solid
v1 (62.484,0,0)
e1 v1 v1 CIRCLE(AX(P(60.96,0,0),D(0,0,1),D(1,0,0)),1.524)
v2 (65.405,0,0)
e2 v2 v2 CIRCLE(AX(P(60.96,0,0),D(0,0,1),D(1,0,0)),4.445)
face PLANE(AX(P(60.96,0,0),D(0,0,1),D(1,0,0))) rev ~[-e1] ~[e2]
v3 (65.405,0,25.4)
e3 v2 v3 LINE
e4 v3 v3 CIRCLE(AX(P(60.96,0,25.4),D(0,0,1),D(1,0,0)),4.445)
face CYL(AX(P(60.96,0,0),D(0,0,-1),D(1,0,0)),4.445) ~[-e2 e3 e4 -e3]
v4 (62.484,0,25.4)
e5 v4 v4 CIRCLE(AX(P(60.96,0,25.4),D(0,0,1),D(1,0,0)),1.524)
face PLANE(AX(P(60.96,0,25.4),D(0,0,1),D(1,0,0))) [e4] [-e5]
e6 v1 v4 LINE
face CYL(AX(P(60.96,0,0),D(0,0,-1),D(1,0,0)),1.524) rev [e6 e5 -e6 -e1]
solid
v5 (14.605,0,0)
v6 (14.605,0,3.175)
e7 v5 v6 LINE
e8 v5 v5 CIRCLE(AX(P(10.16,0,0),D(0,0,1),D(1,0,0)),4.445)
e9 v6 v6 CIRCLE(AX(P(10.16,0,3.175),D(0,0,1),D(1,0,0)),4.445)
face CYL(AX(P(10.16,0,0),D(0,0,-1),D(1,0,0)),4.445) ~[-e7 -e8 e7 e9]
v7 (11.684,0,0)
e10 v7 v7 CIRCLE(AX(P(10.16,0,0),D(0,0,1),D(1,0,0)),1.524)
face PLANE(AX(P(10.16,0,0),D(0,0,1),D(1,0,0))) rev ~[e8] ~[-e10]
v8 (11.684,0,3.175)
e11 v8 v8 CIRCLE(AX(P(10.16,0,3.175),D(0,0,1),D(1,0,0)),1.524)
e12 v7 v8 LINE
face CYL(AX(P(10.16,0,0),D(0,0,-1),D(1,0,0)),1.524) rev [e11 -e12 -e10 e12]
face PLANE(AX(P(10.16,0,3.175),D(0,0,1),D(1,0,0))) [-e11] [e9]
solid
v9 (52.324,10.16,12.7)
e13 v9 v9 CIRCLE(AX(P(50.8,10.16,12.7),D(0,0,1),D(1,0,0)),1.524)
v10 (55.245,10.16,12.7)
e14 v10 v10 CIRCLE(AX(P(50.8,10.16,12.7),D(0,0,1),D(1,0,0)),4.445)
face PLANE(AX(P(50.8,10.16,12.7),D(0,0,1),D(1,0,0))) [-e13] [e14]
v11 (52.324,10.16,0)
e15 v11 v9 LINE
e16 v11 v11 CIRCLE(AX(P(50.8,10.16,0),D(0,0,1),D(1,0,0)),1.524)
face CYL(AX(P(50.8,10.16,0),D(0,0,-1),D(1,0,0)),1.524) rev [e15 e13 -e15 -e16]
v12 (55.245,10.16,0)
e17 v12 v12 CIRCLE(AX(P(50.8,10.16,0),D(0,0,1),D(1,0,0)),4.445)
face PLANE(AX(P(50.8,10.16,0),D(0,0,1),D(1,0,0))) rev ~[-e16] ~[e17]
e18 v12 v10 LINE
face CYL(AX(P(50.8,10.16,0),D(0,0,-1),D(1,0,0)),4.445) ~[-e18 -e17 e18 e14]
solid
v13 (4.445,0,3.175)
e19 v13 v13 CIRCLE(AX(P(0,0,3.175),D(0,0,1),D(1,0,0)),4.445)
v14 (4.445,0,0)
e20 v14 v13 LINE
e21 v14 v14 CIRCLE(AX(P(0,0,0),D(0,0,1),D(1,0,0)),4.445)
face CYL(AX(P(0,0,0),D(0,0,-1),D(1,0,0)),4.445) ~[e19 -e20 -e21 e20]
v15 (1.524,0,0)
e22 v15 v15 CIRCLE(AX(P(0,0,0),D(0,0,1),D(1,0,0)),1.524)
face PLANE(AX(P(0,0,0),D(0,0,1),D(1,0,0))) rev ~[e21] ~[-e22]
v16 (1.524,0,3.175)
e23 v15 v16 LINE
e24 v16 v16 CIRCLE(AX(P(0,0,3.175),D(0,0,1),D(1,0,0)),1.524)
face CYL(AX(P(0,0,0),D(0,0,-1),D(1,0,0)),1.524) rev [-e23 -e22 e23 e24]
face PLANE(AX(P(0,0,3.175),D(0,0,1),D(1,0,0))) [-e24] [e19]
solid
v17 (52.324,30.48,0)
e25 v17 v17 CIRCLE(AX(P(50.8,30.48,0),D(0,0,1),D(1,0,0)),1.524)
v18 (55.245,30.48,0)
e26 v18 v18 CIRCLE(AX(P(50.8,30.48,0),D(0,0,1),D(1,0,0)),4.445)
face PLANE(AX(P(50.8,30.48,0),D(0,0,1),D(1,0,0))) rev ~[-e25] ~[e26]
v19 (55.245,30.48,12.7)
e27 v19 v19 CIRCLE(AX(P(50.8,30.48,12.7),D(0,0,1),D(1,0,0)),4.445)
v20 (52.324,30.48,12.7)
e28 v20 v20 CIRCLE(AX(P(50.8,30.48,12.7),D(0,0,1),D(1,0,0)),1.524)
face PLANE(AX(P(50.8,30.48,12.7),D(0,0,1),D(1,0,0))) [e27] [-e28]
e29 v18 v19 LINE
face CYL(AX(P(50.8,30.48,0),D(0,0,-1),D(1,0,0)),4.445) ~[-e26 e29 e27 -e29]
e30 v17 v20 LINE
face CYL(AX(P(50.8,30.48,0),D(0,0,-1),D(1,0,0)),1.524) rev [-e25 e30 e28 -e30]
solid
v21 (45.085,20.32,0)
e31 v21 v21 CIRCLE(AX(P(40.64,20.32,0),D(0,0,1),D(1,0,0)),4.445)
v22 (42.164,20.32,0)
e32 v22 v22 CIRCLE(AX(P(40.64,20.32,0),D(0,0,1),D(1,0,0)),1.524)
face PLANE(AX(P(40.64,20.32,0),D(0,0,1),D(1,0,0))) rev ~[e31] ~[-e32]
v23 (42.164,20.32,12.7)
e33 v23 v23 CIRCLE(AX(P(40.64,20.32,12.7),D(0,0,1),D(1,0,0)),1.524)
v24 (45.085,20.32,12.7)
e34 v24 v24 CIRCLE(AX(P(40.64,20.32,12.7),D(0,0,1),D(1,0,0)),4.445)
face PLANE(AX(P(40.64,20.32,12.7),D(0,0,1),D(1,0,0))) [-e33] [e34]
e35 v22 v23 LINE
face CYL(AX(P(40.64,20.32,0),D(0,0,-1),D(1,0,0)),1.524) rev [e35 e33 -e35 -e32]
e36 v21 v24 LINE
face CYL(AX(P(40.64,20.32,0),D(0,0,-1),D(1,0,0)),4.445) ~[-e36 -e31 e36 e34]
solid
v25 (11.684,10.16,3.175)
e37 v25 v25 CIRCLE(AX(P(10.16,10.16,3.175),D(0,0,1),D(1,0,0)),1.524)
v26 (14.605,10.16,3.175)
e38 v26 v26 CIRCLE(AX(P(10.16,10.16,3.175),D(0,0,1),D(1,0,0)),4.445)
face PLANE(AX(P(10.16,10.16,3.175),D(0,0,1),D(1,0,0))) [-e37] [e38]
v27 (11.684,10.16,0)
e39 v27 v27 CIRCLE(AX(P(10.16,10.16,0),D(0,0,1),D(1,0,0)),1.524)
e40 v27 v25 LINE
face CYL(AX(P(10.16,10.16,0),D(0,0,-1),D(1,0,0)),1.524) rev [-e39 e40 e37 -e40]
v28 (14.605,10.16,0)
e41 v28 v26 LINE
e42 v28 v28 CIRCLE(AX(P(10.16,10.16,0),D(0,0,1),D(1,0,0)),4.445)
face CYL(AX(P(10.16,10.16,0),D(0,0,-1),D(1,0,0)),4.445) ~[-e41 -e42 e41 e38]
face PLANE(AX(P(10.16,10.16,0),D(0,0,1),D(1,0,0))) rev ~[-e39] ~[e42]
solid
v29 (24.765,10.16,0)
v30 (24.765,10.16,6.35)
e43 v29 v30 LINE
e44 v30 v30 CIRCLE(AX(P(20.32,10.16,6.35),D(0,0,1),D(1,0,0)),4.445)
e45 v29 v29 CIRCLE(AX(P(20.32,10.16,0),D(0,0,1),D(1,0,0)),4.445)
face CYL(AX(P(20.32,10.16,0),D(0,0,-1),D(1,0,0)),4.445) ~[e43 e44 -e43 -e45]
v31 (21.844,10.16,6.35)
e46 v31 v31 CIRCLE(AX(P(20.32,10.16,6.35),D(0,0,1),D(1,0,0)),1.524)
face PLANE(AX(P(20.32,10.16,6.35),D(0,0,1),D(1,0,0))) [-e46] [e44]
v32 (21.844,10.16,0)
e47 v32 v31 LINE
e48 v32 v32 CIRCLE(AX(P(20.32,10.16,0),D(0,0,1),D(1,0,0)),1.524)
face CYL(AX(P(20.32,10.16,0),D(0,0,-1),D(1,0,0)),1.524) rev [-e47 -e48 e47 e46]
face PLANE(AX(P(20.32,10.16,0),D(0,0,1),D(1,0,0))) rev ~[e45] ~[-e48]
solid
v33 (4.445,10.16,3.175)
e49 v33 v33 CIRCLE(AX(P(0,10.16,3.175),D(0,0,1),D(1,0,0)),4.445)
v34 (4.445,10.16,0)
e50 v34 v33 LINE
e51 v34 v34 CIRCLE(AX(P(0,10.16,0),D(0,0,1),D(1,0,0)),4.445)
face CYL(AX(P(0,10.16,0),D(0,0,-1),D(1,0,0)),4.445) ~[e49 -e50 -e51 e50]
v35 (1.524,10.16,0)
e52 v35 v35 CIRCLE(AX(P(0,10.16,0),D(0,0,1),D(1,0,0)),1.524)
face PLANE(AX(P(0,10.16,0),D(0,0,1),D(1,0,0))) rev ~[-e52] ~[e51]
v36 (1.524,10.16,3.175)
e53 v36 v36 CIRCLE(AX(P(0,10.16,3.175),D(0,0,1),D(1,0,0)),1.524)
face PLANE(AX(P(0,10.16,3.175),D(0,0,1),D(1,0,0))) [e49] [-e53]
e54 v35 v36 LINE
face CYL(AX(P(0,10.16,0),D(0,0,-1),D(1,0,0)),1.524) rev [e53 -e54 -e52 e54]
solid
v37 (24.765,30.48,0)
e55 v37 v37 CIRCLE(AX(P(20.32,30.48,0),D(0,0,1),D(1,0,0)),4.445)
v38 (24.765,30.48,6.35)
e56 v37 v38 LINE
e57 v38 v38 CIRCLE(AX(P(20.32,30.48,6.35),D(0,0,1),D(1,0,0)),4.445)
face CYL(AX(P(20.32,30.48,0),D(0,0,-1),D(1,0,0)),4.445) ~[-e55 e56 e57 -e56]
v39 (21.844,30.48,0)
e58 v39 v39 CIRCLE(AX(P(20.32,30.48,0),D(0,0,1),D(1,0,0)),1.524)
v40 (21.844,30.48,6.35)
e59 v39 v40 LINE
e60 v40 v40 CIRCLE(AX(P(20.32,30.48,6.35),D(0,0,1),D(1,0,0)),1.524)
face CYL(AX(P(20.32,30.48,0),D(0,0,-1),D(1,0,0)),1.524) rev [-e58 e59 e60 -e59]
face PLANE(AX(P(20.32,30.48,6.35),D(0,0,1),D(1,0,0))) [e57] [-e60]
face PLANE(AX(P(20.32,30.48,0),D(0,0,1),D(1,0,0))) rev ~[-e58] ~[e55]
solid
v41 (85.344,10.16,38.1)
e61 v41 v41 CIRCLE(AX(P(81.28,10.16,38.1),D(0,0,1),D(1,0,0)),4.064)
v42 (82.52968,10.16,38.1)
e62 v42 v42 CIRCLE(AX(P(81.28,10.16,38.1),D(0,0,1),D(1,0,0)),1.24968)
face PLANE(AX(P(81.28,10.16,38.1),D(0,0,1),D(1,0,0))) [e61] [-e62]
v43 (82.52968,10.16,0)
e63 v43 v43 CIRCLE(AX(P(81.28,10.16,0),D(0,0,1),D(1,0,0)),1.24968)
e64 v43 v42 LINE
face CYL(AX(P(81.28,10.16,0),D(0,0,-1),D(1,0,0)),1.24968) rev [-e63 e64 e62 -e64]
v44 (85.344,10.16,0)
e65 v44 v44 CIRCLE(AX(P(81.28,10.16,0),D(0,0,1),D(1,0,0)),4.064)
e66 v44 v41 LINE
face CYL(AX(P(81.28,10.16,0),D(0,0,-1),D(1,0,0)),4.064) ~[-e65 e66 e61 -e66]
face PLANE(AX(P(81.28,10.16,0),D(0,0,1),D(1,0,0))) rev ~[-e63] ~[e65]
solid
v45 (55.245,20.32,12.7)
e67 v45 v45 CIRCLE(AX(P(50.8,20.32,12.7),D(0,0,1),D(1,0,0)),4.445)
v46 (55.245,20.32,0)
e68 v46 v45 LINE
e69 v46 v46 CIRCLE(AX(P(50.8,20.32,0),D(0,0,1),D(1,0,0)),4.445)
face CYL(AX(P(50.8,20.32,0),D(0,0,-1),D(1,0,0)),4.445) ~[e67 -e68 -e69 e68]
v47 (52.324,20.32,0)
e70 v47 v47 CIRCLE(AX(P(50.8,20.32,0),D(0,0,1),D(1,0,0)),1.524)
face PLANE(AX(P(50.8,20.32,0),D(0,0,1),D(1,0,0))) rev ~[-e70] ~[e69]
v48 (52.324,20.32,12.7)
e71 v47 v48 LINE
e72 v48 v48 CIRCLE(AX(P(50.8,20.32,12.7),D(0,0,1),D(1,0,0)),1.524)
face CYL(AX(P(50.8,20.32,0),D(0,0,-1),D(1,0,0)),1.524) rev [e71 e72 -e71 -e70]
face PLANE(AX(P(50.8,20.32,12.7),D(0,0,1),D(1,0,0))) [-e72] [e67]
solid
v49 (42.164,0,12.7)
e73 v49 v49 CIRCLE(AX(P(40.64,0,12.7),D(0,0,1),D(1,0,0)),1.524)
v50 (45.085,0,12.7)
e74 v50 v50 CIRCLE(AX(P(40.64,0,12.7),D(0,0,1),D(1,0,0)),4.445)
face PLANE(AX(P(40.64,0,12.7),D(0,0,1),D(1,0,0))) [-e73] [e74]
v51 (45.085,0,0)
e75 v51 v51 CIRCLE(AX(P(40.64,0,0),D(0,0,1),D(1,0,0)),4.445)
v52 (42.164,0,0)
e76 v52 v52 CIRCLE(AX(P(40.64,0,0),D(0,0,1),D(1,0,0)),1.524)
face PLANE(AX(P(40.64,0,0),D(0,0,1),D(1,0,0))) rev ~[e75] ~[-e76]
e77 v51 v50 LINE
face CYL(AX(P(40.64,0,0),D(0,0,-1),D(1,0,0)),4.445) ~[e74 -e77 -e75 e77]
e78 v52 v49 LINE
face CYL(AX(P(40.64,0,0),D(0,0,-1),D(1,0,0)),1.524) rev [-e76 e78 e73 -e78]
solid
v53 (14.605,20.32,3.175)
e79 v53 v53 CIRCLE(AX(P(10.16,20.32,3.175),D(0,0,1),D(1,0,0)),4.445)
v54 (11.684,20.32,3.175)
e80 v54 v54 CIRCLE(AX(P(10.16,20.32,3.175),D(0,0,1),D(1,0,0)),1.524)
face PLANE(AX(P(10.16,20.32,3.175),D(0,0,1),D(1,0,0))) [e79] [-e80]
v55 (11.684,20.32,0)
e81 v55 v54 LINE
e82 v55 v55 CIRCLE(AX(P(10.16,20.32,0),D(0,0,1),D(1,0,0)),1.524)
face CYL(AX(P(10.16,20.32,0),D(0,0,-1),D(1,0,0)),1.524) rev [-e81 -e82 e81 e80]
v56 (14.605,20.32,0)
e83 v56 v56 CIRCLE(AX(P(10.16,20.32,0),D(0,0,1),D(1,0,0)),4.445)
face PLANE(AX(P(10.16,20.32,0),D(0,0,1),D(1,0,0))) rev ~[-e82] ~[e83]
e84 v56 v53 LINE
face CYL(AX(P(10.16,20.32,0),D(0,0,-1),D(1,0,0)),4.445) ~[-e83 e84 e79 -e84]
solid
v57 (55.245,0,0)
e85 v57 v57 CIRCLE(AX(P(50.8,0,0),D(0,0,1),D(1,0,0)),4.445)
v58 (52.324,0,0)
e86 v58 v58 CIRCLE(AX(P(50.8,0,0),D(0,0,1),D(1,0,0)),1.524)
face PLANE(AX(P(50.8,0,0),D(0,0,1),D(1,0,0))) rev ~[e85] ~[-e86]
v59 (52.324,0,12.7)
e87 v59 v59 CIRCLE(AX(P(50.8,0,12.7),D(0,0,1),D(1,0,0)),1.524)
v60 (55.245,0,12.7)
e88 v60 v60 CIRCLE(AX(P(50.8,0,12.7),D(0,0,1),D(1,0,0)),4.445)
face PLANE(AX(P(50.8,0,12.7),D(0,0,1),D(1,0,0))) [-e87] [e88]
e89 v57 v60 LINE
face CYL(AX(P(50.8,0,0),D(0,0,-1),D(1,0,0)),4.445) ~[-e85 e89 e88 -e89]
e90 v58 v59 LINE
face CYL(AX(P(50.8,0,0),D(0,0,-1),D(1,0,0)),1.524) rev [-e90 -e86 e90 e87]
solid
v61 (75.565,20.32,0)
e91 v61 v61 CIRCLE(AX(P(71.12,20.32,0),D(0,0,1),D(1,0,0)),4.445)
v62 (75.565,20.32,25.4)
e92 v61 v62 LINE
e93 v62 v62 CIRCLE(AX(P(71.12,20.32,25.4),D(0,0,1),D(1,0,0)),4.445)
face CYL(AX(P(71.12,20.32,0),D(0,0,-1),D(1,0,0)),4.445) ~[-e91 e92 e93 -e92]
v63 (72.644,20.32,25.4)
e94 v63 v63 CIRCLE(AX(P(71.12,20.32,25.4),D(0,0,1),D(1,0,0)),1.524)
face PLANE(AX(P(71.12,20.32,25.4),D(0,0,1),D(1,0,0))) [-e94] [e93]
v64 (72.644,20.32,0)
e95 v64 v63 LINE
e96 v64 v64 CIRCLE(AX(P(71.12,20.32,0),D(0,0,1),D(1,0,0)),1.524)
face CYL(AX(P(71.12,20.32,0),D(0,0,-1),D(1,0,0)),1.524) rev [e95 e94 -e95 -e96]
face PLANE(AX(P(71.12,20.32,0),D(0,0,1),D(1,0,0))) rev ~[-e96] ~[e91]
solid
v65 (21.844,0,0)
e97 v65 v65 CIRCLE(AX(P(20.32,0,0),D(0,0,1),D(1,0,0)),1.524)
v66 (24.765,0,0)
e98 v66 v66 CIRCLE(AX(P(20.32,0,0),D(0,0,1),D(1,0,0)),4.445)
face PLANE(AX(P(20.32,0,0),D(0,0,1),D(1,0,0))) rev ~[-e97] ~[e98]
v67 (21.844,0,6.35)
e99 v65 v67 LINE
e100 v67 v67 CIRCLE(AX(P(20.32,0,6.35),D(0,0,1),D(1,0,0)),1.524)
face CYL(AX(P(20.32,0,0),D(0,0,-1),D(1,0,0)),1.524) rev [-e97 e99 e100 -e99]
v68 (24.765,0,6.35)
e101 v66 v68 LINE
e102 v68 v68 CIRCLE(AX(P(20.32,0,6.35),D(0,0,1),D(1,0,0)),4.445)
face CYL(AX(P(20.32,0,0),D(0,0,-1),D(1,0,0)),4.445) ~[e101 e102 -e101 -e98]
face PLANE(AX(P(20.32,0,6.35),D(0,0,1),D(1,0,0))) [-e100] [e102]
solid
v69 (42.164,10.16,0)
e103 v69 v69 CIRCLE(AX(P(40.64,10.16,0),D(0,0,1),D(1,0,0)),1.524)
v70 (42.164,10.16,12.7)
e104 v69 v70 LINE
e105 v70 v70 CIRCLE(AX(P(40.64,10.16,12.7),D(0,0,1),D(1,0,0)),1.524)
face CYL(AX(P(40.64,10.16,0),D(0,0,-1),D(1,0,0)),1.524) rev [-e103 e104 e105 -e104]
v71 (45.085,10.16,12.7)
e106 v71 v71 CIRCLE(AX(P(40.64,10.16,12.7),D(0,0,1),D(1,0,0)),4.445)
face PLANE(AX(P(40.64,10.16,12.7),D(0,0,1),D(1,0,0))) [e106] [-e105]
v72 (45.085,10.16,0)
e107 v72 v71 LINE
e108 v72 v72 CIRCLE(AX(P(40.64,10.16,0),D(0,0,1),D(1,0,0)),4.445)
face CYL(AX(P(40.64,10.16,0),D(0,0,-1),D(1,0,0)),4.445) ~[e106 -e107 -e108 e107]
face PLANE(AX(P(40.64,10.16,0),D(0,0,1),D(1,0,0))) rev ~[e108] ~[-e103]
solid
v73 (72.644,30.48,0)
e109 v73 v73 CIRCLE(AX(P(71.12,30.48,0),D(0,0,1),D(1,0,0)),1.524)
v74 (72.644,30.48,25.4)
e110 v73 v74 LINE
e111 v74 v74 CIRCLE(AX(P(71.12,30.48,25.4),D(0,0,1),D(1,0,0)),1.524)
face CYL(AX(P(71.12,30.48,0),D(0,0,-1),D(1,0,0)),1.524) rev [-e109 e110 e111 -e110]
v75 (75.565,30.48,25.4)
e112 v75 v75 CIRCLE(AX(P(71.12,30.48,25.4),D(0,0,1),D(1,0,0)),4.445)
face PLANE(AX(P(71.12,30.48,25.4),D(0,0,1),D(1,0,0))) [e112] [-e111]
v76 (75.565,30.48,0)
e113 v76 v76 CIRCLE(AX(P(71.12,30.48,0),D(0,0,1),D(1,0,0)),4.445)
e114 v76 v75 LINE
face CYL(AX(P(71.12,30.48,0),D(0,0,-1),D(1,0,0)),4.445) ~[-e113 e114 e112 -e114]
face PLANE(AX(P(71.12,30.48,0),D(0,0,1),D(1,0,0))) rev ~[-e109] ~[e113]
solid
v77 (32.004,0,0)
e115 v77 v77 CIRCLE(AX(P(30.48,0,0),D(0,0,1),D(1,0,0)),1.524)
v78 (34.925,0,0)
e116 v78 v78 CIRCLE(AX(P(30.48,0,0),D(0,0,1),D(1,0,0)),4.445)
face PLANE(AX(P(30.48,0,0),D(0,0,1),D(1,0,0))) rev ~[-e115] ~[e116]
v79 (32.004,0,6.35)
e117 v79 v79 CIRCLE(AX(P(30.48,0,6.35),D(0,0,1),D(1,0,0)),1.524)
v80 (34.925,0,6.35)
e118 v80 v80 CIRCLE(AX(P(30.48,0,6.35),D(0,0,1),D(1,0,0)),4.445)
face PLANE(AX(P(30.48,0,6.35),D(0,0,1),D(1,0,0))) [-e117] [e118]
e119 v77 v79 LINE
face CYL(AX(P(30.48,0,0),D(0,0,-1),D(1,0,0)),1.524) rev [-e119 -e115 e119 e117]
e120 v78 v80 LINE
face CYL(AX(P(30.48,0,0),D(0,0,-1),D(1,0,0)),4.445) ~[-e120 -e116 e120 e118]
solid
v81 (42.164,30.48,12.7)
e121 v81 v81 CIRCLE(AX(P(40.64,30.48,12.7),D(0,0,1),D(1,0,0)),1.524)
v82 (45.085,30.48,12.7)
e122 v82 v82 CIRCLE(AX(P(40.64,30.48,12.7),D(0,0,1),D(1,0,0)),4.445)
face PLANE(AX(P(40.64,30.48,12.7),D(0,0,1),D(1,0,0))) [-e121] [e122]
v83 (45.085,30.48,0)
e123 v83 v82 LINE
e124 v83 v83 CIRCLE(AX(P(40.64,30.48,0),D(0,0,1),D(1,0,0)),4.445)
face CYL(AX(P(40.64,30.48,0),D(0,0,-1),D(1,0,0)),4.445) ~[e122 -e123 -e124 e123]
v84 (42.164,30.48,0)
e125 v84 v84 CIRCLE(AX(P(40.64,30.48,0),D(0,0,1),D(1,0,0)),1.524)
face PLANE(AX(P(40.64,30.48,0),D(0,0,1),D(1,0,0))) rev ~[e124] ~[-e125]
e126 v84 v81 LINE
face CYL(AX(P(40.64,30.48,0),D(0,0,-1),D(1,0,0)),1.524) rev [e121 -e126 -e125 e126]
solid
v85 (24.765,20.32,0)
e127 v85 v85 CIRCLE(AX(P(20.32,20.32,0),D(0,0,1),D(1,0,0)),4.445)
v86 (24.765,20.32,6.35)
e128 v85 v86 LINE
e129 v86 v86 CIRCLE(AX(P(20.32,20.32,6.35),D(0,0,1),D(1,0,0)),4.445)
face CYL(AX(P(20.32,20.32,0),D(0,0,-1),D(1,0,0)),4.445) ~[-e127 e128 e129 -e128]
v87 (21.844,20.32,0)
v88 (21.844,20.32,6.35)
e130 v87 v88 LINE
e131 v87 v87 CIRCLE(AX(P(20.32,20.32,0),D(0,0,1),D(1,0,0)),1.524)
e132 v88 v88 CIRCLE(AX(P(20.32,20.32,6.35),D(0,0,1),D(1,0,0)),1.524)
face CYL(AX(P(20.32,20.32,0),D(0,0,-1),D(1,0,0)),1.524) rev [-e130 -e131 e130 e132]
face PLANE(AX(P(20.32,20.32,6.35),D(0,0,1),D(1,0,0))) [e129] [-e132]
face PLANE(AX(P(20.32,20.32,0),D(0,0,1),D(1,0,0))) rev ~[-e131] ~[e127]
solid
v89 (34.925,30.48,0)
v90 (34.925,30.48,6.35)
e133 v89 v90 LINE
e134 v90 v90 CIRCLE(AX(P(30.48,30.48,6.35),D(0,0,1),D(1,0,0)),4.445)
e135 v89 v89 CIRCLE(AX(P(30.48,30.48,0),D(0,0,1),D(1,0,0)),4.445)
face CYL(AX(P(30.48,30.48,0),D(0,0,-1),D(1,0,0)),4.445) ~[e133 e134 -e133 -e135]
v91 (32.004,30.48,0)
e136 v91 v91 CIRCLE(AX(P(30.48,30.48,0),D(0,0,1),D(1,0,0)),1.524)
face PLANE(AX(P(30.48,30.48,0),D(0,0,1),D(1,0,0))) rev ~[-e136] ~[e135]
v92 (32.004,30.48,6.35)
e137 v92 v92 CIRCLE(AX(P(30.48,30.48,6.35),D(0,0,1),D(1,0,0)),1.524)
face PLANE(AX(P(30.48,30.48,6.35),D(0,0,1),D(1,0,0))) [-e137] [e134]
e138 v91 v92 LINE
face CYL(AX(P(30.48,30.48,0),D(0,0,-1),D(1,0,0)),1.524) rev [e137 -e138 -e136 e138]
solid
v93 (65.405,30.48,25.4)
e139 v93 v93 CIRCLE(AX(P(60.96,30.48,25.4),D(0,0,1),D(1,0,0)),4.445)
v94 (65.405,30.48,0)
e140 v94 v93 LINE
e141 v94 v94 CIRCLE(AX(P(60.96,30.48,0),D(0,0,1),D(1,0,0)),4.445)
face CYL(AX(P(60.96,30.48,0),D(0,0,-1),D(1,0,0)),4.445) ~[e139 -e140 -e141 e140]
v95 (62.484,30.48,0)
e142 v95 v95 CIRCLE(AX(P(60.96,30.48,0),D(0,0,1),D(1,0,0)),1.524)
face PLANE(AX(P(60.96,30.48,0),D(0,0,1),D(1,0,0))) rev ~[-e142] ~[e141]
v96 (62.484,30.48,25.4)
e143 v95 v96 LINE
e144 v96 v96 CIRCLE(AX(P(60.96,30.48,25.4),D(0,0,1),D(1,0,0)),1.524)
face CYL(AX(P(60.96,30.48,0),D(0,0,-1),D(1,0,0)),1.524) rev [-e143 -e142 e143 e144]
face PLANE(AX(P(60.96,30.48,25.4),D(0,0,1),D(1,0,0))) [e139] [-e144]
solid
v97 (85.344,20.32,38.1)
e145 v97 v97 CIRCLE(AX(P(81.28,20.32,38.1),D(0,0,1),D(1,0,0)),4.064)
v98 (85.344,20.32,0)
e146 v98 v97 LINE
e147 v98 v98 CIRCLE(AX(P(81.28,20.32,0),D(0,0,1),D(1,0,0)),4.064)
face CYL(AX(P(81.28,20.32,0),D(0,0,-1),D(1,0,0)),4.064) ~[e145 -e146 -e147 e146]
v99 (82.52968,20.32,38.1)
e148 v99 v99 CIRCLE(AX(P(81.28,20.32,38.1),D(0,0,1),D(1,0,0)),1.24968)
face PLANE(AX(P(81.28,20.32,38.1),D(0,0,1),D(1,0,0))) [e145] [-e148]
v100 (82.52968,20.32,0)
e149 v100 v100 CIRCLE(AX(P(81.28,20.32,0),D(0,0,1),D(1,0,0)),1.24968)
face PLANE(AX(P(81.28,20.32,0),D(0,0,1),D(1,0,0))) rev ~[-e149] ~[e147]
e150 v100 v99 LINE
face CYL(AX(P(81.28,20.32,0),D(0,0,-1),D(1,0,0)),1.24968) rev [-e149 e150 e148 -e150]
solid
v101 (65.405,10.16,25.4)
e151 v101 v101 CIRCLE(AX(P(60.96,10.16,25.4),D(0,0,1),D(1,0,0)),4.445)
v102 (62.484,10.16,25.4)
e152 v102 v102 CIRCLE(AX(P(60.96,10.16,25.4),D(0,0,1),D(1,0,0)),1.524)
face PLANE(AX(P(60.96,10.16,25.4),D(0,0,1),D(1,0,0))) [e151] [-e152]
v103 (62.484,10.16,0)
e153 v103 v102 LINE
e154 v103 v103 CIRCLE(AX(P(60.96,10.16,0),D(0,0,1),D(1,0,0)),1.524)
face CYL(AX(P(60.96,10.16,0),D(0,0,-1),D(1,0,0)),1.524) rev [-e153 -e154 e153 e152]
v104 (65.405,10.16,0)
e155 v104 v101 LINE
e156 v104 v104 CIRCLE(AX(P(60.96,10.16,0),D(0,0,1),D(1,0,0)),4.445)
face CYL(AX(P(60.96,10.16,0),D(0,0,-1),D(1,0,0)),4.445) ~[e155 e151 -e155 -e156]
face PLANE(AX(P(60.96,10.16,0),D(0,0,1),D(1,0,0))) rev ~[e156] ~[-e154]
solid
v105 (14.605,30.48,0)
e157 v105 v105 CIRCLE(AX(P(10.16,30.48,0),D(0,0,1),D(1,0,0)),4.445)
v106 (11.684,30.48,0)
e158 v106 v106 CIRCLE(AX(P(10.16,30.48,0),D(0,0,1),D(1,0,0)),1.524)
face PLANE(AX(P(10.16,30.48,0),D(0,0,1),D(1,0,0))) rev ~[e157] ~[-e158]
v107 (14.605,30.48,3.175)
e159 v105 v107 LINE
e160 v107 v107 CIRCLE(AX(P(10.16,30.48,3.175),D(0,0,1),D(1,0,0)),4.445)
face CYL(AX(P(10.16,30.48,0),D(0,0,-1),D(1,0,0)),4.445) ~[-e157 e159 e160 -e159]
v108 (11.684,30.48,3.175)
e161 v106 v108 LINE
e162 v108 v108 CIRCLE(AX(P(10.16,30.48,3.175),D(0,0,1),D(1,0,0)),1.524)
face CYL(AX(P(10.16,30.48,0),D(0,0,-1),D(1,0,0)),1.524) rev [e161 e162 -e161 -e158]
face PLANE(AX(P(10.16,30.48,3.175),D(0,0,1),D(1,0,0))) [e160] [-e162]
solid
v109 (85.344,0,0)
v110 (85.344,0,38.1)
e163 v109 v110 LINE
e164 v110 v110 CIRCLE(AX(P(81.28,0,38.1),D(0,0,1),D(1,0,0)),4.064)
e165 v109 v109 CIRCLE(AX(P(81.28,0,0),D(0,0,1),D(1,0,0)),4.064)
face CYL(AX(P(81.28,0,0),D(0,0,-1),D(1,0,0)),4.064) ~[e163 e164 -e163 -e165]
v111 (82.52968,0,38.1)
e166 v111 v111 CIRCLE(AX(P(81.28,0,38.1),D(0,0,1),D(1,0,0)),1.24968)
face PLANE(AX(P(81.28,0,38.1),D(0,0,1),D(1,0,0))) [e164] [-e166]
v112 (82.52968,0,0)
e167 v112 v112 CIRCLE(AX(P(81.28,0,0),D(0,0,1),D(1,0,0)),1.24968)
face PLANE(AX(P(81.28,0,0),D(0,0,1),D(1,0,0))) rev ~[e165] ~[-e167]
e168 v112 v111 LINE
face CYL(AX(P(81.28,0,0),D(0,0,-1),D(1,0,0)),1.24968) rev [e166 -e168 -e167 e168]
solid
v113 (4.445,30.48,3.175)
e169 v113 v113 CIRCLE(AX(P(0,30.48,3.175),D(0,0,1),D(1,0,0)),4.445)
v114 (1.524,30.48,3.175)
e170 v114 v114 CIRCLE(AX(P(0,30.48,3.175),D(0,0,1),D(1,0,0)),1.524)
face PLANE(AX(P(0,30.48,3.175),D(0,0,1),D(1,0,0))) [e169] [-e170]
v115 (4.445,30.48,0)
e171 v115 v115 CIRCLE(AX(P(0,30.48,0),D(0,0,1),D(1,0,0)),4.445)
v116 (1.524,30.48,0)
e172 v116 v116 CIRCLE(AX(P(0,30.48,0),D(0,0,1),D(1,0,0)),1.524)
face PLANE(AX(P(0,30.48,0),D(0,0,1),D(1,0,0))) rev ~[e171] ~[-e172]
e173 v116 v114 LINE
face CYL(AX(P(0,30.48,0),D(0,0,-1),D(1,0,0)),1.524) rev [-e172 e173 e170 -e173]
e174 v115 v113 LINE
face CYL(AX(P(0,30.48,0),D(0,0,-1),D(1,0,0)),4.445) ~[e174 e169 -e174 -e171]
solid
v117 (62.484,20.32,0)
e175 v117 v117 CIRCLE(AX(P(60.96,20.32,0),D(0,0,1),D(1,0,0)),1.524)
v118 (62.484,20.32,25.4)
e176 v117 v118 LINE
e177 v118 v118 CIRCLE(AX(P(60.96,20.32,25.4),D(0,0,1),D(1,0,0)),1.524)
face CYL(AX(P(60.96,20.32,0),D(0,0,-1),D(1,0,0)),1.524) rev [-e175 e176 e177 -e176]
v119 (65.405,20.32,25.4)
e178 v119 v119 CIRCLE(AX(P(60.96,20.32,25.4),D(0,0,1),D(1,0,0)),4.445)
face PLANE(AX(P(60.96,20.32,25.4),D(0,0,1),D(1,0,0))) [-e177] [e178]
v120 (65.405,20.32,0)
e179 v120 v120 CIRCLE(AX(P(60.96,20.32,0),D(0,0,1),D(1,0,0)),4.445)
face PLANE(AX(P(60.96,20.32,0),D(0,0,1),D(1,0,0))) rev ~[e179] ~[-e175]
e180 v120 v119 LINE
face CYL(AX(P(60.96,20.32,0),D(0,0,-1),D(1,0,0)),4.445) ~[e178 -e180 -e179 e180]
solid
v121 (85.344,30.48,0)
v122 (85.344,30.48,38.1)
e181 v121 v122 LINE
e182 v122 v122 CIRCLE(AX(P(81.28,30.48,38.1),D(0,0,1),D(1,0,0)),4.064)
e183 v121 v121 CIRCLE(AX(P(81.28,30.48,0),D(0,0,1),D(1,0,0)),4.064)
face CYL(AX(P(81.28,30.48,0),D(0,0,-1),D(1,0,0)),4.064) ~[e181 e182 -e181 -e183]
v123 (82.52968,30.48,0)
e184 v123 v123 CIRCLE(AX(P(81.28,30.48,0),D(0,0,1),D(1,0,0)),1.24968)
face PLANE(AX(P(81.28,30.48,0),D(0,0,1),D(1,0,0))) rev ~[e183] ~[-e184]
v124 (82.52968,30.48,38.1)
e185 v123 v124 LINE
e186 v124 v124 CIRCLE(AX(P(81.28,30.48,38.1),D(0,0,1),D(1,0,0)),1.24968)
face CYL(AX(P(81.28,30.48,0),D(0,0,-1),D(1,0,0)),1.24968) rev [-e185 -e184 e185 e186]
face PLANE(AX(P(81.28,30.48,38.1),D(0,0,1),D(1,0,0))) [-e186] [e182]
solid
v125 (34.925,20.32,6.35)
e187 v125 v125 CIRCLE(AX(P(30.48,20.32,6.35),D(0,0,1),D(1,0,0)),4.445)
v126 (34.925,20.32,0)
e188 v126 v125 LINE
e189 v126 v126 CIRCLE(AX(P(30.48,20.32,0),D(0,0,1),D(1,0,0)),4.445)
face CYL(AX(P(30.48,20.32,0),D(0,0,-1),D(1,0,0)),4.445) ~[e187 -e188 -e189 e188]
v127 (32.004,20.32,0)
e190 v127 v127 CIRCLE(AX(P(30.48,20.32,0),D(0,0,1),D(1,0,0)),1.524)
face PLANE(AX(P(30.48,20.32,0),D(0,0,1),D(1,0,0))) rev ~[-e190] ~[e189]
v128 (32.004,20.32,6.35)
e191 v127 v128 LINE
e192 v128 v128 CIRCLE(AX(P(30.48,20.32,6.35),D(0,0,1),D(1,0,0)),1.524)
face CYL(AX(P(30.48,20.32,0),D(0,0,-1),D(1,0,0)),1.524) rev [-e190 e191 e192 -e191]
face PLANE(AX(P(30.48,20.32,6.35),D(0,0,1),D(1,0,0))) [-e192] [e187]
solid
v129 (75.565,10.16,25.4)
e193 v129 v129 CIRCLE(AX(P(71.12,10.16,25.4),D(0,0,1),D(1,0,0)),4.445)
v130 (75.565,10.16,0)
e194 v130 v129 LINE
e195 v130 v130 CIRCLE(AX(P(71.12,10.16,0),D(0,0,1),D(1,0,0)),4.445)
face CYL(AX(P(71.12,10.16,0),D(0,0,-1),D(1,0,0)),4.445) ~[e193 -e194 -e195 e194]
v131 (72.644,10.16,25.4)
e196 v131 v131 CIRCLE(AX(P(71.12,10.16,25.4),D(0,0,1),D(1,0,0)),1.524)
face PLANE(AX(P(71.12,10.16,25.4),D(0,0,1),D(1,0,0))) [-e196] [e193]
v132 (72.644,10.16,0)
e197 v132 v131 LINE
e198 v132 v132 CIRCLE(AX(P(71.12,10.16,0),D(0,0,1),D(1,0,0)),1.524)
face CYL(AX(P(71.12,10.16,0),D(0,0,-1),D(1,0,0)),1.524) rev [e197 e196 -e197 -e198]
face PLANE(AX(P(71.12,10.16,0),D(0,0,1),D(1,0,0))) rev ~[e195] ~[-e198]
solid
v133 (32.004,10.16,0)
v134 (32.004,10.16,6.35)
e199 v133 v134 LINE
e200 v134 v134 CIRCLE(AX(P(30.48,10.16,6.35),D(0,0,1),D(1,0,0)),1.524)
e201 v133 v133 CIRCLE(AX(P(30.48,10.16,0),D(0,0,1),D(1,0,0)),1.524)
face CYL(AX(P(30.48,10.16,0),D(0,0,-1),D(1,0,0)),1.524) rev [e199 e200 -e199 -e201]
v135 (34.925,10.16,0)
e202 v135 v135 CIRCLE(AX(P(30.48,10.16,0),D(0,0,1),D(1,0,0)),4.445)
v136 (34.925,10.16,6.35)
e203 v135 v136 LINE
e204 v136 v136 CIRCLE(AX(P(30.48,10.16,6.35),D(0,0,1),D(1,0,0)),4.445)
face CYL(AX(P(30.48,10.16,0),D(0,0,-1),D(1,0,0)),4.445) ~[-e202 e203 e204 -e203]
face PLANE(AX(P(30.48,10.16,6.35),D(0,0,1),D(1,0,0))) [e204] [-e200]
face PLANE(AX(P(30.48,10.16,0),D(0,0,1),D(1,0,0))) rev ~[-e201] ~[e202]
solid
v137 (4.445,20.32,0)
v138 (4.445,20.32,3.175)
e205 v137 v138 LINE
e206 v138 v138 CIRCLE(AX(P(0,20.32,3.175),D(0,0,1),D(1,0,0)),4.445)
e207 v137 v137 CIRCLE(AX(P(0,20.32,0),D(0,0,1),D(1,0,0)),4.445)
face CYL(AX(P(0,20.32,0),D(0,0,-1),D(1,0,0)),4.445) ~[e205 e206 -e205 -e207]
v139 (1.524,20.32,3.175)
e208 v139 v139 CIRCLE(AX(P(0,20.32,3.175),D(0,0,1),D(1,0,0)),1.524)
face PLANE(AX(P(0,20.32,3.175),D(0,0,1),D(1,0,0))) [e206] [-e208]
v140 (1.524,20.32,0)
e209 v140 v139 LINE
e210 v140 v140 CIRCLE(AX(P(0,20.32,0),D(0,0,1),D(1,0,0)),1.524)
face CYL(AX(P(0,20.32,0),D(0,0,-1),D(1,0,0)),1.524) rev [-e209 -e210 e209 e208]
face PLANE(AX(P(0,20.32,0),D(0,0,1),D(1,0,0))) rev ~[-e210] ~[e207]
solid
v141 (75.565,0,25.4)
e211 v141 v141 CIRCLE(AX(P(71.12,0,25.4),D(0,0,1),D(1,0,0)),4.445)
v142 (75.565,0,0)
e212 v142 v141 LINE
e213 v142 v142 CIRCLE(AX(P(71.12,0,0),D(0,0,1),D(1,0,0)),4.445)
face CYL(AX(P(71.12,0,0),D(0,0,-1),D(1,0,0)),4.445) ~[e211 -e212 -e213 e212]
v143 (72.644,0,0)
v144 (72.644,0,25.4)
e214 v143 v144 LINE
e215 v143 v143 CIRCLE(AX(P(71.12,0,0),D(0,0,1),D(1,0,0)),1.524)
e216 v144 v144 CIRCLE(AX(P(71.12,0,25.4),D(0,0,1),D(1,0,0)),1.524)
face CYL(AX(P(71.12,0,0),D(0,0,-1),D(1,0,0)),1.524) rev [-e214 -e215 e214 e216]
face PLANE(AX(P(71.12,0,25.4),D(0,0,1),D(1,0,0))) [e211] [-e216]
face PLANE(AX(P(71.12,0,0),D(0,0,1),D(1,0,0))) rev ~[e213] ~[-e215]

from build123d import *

# Parameters (mm, degrees)
F0_R     = 4.445
F0_R_2   = 1.524
F1_DEPTH = 3.175
F2_DEPTH = 6.35
F3_DEPTH = 12.7
F4_DEPTH = 25.4
F5_R     = 4.064
F5_R_2   = 1.24968
F6_DEPTH = 38.1


with BuildPart() as f1:
    # F0 (on Top) → F1 (new body)
    with BuildSketch(Plane.XY):
        with Locations((0, 30.48)):
            Circle(F0_R)
        with Locations((0, 30.48)):
            Circle(F0_R_2, mode=Mode.SUBTRACT)
        with Locations((0, 20.32)):
            Circle(F0_R)
        with Locations((0, 20.32)):
            Circle(F0_R_2, mode=Mode.SUBTRACT)
        with Locations((0, 10.16)):
            Circle(F0_R)
        with Locations((0, 10.16)):
            Circle(F0_R_2, mode=Mode.SUBTRACT)
        Circle(F0_R)
        Circle(F0_R_2, mode=Mode.SUBTRACT)
        with Locations((10.16, 0)):
            Circle(F0_R)
        with Locations((10.16, 0)):
            Circle(F0_R_2, mode=Mode.SUBTRACT)
        with Locations((10.16, 10.16)):
            Circle(F0_R)
        with Locations((10.16, 10.16)):
            Circle(F0_R_2, mode=Mode.SUBTRACT)
        with Locations((10.16, 20.32)):
            Circle(F0_R)
        with Locations((10.16, 20.32)):
            Circle(F0_R_2, mode=Mode.SUBTRACT)
        with Locations((10.16, 30.48)):
            Circle(F0_R)
        with Locations((10.16, 30.48)):
            Circle(F0_R_2, mode=Mode.SUBTRACT)
    extrude(amount=F1_DEPTH)


with BuildPart() as f2:
    # F0 (on Top) → F2 (new body)
    with BuildSketch(Plane.XY):
        with Locations((20.32, 30.48)):
            Circle(F0_R)
        with Locations((20.32, 30.48)):
            Circle(F0_R_2, mode=Mode.SUBTRACT)
        with Locations((20.32, 20.32)):
            Circle(F0_R)
        with Locations((20.32, 20.32)):
            Circle(F0_R_2, mode=Mode.SUBTRACT)
        with Locations((20.32, 10.16)):
            Circle(F0_R)
        with Locations((20.32, 10.16)):
            Circle(F0_R_2, mode=Mode.SUBTRACT)
        with Locations((20.32, 0)):
            Circle(F0_R)
        with Locations((20.32, 0)):
            Circle(F0_R_2, mode=Mode.SUBTRACT)
        with Locations((30.48, 0)):
            Circle(F0_R)
        with Locations((30.48, 0)):
            Circle(F0_R_2, mode=Mode.SUBTRACT)
        with Locations((30.48, 10.16)):
            Circle(F0_R)
        with Locations((30.48, 10.16)):
            Circle(F0_R_2, mode=Mode.SUBTRACT)
        with Locations((30.48, 20.32)):
            Circle(F0_R)
        with Locations((30.48, 20.32)):
            Circle(F0_R_2, mode=Mode.SUBTRACT)
        with Locations((30.48, 30.48)):
            Circle(F0_R)
        with Locations((30.48, 30.48)):
            Circle(F0_R_2, mode=Mode.SUBTRACT)
    extrude(amount=F2_DEPTH)


with BuildPart() as f3:
    # F0 (on Top) → F3 (new body)
    with BuildSketch(Plane.XY):
        with Locations((40.64, 30.48)):
            Circle(F0_R)
        with Locations((40.64, 30.48)):
            Circle(F0_R_2, mode=Mode.SUBTRACT)
        with Locations((40.64, 20.32)):
            Circle(F0_R)
        with Locations((40.64, 20.32)):
            Circle(F0_R_2, mode=Mode.SUBTRACT)
        with Locations((40.64, 10.16)):
            Circle(F0_R)
        with Locations((40.64, 10.16)):
            Circle(F0_R_2, mode=Mode.SUBTRACT)
        with Locations((40.64, 0)):
            Circle(F0_R)
        with Locations((40.64, 0)):
            Circle(F0_R_2, mode=Mode.SUBTRACT)
        with Locations((50.8, 0)):
            Circle(F0_R)
        with Locations((50.8, 0)):
            Circle(F0_R_2, mode=Mode.SUBTRACT)
        with Locations((50.8, 10.16)):
            Circle(F0_R)
        with Locations((50.8, 10.16)):
            Circle(F0_R_2, mode=Mode.SUBTRACT)
        with Locations((50.8, 20.32)):
            Circle(F0_R)
        with Locations((50.8, 20.32)):
            Circle(F0_R_2, mode=Mode.SUBTRACT)
        with Locations((50.8, 30.48)):
            Circle(F0_R)
        with Locations((50.8, 30.48)):
            Circle(F0_R_2, mode=Mode.SUBTRACT)
    extrude(amount=F3_DEPTH)


with BuildPart() as f4:
    # F0 (on Top) → F4 (new body)
    with BuildSketch(Plane.XY):
        with Locations((60.96, 30.48)):
            Circle(F0_R)
        with Locations((60.96, 30.48)):
            Circle(F0_R_2, mode=Mode.SUBTRACT)
        with Locations((60.96, 20.32)):
            Circle(F0_R)
        with Locations((60.96, 20.32)):
            Circle(F0_R_2, mode=Mode.SUBTRACT)
        with Locations((60.96, 10.16)):
            Circle(F0_R)
        with Locations((60.96, 10.16)):
            Circle(F0_R_2, mode=Mode.SUBTRACT)
        with Locations((60.96, 0)):
            Circle(F0_R)
        with Locations((60.96, 0)):
            Circle(F0_R_2, mode=Mode.SUBTRACT)
        with Locations((71.12, 30.48)):
            Circle(F0_R)
        with Locations((71.12, 30.48)):
            Circle(F0_R_2, mode=Mode.SUBTRACT)
        with Locations((71.12, 20.32)):
            Circle(F0_R)
        with Locations((71.12, 20.32)):
            Circle(F0_R_2, mode=Mode.SUBTRACT)
        with Locations((71.12, 10.16)):
            Circle(F0_R)
        with Locations((71.12, 10.16)):
            Circle(F0_R_2, mode=Mode.SUBTRACT)
        with Locations((71.12, 0)):
            Circle(F0_R)
        with Locations((71.12, 0)):
            Circle(F0_R_2, mode=Mode.SUBTRACT)
    extrude(amount=F4_DEPTH)


with BuildPart() as f6:
    # F5 (on Top) → F6 (new body)
    with BuildSketch(Plane.XY):
        with Locations((81.28, 0)):
            Circle(F5_R)
        with Locations((81.28, 0)):
            Circle(F5_R_2, mode=Mode.SUBTRACT)
        with Locations((81.28, 10.16)):
            Circle(F5_R)
        with Locations((81.28, 10.16)):
            Circle(F5_R_2, mode=Mode.SUBTRACT)
        with Locations((81.28, 20.32)):
            Circle(F5_R)
        with Locations((81.28, 20.32)):
            Circle(F5_R_2, mode=Mode.SUBTRACT)
        with Locations((81.28, 30.48)):
            Circle(F5_R)
        with Locations((81.28, 30.48)):
            Circle(F5_R_2, mode=Mode.SUBTRACT)
    extrude(amount=F6_DEPTH)


solid = Compound([f1.part, f2.part, f3.part, f4.part, f6.part])
